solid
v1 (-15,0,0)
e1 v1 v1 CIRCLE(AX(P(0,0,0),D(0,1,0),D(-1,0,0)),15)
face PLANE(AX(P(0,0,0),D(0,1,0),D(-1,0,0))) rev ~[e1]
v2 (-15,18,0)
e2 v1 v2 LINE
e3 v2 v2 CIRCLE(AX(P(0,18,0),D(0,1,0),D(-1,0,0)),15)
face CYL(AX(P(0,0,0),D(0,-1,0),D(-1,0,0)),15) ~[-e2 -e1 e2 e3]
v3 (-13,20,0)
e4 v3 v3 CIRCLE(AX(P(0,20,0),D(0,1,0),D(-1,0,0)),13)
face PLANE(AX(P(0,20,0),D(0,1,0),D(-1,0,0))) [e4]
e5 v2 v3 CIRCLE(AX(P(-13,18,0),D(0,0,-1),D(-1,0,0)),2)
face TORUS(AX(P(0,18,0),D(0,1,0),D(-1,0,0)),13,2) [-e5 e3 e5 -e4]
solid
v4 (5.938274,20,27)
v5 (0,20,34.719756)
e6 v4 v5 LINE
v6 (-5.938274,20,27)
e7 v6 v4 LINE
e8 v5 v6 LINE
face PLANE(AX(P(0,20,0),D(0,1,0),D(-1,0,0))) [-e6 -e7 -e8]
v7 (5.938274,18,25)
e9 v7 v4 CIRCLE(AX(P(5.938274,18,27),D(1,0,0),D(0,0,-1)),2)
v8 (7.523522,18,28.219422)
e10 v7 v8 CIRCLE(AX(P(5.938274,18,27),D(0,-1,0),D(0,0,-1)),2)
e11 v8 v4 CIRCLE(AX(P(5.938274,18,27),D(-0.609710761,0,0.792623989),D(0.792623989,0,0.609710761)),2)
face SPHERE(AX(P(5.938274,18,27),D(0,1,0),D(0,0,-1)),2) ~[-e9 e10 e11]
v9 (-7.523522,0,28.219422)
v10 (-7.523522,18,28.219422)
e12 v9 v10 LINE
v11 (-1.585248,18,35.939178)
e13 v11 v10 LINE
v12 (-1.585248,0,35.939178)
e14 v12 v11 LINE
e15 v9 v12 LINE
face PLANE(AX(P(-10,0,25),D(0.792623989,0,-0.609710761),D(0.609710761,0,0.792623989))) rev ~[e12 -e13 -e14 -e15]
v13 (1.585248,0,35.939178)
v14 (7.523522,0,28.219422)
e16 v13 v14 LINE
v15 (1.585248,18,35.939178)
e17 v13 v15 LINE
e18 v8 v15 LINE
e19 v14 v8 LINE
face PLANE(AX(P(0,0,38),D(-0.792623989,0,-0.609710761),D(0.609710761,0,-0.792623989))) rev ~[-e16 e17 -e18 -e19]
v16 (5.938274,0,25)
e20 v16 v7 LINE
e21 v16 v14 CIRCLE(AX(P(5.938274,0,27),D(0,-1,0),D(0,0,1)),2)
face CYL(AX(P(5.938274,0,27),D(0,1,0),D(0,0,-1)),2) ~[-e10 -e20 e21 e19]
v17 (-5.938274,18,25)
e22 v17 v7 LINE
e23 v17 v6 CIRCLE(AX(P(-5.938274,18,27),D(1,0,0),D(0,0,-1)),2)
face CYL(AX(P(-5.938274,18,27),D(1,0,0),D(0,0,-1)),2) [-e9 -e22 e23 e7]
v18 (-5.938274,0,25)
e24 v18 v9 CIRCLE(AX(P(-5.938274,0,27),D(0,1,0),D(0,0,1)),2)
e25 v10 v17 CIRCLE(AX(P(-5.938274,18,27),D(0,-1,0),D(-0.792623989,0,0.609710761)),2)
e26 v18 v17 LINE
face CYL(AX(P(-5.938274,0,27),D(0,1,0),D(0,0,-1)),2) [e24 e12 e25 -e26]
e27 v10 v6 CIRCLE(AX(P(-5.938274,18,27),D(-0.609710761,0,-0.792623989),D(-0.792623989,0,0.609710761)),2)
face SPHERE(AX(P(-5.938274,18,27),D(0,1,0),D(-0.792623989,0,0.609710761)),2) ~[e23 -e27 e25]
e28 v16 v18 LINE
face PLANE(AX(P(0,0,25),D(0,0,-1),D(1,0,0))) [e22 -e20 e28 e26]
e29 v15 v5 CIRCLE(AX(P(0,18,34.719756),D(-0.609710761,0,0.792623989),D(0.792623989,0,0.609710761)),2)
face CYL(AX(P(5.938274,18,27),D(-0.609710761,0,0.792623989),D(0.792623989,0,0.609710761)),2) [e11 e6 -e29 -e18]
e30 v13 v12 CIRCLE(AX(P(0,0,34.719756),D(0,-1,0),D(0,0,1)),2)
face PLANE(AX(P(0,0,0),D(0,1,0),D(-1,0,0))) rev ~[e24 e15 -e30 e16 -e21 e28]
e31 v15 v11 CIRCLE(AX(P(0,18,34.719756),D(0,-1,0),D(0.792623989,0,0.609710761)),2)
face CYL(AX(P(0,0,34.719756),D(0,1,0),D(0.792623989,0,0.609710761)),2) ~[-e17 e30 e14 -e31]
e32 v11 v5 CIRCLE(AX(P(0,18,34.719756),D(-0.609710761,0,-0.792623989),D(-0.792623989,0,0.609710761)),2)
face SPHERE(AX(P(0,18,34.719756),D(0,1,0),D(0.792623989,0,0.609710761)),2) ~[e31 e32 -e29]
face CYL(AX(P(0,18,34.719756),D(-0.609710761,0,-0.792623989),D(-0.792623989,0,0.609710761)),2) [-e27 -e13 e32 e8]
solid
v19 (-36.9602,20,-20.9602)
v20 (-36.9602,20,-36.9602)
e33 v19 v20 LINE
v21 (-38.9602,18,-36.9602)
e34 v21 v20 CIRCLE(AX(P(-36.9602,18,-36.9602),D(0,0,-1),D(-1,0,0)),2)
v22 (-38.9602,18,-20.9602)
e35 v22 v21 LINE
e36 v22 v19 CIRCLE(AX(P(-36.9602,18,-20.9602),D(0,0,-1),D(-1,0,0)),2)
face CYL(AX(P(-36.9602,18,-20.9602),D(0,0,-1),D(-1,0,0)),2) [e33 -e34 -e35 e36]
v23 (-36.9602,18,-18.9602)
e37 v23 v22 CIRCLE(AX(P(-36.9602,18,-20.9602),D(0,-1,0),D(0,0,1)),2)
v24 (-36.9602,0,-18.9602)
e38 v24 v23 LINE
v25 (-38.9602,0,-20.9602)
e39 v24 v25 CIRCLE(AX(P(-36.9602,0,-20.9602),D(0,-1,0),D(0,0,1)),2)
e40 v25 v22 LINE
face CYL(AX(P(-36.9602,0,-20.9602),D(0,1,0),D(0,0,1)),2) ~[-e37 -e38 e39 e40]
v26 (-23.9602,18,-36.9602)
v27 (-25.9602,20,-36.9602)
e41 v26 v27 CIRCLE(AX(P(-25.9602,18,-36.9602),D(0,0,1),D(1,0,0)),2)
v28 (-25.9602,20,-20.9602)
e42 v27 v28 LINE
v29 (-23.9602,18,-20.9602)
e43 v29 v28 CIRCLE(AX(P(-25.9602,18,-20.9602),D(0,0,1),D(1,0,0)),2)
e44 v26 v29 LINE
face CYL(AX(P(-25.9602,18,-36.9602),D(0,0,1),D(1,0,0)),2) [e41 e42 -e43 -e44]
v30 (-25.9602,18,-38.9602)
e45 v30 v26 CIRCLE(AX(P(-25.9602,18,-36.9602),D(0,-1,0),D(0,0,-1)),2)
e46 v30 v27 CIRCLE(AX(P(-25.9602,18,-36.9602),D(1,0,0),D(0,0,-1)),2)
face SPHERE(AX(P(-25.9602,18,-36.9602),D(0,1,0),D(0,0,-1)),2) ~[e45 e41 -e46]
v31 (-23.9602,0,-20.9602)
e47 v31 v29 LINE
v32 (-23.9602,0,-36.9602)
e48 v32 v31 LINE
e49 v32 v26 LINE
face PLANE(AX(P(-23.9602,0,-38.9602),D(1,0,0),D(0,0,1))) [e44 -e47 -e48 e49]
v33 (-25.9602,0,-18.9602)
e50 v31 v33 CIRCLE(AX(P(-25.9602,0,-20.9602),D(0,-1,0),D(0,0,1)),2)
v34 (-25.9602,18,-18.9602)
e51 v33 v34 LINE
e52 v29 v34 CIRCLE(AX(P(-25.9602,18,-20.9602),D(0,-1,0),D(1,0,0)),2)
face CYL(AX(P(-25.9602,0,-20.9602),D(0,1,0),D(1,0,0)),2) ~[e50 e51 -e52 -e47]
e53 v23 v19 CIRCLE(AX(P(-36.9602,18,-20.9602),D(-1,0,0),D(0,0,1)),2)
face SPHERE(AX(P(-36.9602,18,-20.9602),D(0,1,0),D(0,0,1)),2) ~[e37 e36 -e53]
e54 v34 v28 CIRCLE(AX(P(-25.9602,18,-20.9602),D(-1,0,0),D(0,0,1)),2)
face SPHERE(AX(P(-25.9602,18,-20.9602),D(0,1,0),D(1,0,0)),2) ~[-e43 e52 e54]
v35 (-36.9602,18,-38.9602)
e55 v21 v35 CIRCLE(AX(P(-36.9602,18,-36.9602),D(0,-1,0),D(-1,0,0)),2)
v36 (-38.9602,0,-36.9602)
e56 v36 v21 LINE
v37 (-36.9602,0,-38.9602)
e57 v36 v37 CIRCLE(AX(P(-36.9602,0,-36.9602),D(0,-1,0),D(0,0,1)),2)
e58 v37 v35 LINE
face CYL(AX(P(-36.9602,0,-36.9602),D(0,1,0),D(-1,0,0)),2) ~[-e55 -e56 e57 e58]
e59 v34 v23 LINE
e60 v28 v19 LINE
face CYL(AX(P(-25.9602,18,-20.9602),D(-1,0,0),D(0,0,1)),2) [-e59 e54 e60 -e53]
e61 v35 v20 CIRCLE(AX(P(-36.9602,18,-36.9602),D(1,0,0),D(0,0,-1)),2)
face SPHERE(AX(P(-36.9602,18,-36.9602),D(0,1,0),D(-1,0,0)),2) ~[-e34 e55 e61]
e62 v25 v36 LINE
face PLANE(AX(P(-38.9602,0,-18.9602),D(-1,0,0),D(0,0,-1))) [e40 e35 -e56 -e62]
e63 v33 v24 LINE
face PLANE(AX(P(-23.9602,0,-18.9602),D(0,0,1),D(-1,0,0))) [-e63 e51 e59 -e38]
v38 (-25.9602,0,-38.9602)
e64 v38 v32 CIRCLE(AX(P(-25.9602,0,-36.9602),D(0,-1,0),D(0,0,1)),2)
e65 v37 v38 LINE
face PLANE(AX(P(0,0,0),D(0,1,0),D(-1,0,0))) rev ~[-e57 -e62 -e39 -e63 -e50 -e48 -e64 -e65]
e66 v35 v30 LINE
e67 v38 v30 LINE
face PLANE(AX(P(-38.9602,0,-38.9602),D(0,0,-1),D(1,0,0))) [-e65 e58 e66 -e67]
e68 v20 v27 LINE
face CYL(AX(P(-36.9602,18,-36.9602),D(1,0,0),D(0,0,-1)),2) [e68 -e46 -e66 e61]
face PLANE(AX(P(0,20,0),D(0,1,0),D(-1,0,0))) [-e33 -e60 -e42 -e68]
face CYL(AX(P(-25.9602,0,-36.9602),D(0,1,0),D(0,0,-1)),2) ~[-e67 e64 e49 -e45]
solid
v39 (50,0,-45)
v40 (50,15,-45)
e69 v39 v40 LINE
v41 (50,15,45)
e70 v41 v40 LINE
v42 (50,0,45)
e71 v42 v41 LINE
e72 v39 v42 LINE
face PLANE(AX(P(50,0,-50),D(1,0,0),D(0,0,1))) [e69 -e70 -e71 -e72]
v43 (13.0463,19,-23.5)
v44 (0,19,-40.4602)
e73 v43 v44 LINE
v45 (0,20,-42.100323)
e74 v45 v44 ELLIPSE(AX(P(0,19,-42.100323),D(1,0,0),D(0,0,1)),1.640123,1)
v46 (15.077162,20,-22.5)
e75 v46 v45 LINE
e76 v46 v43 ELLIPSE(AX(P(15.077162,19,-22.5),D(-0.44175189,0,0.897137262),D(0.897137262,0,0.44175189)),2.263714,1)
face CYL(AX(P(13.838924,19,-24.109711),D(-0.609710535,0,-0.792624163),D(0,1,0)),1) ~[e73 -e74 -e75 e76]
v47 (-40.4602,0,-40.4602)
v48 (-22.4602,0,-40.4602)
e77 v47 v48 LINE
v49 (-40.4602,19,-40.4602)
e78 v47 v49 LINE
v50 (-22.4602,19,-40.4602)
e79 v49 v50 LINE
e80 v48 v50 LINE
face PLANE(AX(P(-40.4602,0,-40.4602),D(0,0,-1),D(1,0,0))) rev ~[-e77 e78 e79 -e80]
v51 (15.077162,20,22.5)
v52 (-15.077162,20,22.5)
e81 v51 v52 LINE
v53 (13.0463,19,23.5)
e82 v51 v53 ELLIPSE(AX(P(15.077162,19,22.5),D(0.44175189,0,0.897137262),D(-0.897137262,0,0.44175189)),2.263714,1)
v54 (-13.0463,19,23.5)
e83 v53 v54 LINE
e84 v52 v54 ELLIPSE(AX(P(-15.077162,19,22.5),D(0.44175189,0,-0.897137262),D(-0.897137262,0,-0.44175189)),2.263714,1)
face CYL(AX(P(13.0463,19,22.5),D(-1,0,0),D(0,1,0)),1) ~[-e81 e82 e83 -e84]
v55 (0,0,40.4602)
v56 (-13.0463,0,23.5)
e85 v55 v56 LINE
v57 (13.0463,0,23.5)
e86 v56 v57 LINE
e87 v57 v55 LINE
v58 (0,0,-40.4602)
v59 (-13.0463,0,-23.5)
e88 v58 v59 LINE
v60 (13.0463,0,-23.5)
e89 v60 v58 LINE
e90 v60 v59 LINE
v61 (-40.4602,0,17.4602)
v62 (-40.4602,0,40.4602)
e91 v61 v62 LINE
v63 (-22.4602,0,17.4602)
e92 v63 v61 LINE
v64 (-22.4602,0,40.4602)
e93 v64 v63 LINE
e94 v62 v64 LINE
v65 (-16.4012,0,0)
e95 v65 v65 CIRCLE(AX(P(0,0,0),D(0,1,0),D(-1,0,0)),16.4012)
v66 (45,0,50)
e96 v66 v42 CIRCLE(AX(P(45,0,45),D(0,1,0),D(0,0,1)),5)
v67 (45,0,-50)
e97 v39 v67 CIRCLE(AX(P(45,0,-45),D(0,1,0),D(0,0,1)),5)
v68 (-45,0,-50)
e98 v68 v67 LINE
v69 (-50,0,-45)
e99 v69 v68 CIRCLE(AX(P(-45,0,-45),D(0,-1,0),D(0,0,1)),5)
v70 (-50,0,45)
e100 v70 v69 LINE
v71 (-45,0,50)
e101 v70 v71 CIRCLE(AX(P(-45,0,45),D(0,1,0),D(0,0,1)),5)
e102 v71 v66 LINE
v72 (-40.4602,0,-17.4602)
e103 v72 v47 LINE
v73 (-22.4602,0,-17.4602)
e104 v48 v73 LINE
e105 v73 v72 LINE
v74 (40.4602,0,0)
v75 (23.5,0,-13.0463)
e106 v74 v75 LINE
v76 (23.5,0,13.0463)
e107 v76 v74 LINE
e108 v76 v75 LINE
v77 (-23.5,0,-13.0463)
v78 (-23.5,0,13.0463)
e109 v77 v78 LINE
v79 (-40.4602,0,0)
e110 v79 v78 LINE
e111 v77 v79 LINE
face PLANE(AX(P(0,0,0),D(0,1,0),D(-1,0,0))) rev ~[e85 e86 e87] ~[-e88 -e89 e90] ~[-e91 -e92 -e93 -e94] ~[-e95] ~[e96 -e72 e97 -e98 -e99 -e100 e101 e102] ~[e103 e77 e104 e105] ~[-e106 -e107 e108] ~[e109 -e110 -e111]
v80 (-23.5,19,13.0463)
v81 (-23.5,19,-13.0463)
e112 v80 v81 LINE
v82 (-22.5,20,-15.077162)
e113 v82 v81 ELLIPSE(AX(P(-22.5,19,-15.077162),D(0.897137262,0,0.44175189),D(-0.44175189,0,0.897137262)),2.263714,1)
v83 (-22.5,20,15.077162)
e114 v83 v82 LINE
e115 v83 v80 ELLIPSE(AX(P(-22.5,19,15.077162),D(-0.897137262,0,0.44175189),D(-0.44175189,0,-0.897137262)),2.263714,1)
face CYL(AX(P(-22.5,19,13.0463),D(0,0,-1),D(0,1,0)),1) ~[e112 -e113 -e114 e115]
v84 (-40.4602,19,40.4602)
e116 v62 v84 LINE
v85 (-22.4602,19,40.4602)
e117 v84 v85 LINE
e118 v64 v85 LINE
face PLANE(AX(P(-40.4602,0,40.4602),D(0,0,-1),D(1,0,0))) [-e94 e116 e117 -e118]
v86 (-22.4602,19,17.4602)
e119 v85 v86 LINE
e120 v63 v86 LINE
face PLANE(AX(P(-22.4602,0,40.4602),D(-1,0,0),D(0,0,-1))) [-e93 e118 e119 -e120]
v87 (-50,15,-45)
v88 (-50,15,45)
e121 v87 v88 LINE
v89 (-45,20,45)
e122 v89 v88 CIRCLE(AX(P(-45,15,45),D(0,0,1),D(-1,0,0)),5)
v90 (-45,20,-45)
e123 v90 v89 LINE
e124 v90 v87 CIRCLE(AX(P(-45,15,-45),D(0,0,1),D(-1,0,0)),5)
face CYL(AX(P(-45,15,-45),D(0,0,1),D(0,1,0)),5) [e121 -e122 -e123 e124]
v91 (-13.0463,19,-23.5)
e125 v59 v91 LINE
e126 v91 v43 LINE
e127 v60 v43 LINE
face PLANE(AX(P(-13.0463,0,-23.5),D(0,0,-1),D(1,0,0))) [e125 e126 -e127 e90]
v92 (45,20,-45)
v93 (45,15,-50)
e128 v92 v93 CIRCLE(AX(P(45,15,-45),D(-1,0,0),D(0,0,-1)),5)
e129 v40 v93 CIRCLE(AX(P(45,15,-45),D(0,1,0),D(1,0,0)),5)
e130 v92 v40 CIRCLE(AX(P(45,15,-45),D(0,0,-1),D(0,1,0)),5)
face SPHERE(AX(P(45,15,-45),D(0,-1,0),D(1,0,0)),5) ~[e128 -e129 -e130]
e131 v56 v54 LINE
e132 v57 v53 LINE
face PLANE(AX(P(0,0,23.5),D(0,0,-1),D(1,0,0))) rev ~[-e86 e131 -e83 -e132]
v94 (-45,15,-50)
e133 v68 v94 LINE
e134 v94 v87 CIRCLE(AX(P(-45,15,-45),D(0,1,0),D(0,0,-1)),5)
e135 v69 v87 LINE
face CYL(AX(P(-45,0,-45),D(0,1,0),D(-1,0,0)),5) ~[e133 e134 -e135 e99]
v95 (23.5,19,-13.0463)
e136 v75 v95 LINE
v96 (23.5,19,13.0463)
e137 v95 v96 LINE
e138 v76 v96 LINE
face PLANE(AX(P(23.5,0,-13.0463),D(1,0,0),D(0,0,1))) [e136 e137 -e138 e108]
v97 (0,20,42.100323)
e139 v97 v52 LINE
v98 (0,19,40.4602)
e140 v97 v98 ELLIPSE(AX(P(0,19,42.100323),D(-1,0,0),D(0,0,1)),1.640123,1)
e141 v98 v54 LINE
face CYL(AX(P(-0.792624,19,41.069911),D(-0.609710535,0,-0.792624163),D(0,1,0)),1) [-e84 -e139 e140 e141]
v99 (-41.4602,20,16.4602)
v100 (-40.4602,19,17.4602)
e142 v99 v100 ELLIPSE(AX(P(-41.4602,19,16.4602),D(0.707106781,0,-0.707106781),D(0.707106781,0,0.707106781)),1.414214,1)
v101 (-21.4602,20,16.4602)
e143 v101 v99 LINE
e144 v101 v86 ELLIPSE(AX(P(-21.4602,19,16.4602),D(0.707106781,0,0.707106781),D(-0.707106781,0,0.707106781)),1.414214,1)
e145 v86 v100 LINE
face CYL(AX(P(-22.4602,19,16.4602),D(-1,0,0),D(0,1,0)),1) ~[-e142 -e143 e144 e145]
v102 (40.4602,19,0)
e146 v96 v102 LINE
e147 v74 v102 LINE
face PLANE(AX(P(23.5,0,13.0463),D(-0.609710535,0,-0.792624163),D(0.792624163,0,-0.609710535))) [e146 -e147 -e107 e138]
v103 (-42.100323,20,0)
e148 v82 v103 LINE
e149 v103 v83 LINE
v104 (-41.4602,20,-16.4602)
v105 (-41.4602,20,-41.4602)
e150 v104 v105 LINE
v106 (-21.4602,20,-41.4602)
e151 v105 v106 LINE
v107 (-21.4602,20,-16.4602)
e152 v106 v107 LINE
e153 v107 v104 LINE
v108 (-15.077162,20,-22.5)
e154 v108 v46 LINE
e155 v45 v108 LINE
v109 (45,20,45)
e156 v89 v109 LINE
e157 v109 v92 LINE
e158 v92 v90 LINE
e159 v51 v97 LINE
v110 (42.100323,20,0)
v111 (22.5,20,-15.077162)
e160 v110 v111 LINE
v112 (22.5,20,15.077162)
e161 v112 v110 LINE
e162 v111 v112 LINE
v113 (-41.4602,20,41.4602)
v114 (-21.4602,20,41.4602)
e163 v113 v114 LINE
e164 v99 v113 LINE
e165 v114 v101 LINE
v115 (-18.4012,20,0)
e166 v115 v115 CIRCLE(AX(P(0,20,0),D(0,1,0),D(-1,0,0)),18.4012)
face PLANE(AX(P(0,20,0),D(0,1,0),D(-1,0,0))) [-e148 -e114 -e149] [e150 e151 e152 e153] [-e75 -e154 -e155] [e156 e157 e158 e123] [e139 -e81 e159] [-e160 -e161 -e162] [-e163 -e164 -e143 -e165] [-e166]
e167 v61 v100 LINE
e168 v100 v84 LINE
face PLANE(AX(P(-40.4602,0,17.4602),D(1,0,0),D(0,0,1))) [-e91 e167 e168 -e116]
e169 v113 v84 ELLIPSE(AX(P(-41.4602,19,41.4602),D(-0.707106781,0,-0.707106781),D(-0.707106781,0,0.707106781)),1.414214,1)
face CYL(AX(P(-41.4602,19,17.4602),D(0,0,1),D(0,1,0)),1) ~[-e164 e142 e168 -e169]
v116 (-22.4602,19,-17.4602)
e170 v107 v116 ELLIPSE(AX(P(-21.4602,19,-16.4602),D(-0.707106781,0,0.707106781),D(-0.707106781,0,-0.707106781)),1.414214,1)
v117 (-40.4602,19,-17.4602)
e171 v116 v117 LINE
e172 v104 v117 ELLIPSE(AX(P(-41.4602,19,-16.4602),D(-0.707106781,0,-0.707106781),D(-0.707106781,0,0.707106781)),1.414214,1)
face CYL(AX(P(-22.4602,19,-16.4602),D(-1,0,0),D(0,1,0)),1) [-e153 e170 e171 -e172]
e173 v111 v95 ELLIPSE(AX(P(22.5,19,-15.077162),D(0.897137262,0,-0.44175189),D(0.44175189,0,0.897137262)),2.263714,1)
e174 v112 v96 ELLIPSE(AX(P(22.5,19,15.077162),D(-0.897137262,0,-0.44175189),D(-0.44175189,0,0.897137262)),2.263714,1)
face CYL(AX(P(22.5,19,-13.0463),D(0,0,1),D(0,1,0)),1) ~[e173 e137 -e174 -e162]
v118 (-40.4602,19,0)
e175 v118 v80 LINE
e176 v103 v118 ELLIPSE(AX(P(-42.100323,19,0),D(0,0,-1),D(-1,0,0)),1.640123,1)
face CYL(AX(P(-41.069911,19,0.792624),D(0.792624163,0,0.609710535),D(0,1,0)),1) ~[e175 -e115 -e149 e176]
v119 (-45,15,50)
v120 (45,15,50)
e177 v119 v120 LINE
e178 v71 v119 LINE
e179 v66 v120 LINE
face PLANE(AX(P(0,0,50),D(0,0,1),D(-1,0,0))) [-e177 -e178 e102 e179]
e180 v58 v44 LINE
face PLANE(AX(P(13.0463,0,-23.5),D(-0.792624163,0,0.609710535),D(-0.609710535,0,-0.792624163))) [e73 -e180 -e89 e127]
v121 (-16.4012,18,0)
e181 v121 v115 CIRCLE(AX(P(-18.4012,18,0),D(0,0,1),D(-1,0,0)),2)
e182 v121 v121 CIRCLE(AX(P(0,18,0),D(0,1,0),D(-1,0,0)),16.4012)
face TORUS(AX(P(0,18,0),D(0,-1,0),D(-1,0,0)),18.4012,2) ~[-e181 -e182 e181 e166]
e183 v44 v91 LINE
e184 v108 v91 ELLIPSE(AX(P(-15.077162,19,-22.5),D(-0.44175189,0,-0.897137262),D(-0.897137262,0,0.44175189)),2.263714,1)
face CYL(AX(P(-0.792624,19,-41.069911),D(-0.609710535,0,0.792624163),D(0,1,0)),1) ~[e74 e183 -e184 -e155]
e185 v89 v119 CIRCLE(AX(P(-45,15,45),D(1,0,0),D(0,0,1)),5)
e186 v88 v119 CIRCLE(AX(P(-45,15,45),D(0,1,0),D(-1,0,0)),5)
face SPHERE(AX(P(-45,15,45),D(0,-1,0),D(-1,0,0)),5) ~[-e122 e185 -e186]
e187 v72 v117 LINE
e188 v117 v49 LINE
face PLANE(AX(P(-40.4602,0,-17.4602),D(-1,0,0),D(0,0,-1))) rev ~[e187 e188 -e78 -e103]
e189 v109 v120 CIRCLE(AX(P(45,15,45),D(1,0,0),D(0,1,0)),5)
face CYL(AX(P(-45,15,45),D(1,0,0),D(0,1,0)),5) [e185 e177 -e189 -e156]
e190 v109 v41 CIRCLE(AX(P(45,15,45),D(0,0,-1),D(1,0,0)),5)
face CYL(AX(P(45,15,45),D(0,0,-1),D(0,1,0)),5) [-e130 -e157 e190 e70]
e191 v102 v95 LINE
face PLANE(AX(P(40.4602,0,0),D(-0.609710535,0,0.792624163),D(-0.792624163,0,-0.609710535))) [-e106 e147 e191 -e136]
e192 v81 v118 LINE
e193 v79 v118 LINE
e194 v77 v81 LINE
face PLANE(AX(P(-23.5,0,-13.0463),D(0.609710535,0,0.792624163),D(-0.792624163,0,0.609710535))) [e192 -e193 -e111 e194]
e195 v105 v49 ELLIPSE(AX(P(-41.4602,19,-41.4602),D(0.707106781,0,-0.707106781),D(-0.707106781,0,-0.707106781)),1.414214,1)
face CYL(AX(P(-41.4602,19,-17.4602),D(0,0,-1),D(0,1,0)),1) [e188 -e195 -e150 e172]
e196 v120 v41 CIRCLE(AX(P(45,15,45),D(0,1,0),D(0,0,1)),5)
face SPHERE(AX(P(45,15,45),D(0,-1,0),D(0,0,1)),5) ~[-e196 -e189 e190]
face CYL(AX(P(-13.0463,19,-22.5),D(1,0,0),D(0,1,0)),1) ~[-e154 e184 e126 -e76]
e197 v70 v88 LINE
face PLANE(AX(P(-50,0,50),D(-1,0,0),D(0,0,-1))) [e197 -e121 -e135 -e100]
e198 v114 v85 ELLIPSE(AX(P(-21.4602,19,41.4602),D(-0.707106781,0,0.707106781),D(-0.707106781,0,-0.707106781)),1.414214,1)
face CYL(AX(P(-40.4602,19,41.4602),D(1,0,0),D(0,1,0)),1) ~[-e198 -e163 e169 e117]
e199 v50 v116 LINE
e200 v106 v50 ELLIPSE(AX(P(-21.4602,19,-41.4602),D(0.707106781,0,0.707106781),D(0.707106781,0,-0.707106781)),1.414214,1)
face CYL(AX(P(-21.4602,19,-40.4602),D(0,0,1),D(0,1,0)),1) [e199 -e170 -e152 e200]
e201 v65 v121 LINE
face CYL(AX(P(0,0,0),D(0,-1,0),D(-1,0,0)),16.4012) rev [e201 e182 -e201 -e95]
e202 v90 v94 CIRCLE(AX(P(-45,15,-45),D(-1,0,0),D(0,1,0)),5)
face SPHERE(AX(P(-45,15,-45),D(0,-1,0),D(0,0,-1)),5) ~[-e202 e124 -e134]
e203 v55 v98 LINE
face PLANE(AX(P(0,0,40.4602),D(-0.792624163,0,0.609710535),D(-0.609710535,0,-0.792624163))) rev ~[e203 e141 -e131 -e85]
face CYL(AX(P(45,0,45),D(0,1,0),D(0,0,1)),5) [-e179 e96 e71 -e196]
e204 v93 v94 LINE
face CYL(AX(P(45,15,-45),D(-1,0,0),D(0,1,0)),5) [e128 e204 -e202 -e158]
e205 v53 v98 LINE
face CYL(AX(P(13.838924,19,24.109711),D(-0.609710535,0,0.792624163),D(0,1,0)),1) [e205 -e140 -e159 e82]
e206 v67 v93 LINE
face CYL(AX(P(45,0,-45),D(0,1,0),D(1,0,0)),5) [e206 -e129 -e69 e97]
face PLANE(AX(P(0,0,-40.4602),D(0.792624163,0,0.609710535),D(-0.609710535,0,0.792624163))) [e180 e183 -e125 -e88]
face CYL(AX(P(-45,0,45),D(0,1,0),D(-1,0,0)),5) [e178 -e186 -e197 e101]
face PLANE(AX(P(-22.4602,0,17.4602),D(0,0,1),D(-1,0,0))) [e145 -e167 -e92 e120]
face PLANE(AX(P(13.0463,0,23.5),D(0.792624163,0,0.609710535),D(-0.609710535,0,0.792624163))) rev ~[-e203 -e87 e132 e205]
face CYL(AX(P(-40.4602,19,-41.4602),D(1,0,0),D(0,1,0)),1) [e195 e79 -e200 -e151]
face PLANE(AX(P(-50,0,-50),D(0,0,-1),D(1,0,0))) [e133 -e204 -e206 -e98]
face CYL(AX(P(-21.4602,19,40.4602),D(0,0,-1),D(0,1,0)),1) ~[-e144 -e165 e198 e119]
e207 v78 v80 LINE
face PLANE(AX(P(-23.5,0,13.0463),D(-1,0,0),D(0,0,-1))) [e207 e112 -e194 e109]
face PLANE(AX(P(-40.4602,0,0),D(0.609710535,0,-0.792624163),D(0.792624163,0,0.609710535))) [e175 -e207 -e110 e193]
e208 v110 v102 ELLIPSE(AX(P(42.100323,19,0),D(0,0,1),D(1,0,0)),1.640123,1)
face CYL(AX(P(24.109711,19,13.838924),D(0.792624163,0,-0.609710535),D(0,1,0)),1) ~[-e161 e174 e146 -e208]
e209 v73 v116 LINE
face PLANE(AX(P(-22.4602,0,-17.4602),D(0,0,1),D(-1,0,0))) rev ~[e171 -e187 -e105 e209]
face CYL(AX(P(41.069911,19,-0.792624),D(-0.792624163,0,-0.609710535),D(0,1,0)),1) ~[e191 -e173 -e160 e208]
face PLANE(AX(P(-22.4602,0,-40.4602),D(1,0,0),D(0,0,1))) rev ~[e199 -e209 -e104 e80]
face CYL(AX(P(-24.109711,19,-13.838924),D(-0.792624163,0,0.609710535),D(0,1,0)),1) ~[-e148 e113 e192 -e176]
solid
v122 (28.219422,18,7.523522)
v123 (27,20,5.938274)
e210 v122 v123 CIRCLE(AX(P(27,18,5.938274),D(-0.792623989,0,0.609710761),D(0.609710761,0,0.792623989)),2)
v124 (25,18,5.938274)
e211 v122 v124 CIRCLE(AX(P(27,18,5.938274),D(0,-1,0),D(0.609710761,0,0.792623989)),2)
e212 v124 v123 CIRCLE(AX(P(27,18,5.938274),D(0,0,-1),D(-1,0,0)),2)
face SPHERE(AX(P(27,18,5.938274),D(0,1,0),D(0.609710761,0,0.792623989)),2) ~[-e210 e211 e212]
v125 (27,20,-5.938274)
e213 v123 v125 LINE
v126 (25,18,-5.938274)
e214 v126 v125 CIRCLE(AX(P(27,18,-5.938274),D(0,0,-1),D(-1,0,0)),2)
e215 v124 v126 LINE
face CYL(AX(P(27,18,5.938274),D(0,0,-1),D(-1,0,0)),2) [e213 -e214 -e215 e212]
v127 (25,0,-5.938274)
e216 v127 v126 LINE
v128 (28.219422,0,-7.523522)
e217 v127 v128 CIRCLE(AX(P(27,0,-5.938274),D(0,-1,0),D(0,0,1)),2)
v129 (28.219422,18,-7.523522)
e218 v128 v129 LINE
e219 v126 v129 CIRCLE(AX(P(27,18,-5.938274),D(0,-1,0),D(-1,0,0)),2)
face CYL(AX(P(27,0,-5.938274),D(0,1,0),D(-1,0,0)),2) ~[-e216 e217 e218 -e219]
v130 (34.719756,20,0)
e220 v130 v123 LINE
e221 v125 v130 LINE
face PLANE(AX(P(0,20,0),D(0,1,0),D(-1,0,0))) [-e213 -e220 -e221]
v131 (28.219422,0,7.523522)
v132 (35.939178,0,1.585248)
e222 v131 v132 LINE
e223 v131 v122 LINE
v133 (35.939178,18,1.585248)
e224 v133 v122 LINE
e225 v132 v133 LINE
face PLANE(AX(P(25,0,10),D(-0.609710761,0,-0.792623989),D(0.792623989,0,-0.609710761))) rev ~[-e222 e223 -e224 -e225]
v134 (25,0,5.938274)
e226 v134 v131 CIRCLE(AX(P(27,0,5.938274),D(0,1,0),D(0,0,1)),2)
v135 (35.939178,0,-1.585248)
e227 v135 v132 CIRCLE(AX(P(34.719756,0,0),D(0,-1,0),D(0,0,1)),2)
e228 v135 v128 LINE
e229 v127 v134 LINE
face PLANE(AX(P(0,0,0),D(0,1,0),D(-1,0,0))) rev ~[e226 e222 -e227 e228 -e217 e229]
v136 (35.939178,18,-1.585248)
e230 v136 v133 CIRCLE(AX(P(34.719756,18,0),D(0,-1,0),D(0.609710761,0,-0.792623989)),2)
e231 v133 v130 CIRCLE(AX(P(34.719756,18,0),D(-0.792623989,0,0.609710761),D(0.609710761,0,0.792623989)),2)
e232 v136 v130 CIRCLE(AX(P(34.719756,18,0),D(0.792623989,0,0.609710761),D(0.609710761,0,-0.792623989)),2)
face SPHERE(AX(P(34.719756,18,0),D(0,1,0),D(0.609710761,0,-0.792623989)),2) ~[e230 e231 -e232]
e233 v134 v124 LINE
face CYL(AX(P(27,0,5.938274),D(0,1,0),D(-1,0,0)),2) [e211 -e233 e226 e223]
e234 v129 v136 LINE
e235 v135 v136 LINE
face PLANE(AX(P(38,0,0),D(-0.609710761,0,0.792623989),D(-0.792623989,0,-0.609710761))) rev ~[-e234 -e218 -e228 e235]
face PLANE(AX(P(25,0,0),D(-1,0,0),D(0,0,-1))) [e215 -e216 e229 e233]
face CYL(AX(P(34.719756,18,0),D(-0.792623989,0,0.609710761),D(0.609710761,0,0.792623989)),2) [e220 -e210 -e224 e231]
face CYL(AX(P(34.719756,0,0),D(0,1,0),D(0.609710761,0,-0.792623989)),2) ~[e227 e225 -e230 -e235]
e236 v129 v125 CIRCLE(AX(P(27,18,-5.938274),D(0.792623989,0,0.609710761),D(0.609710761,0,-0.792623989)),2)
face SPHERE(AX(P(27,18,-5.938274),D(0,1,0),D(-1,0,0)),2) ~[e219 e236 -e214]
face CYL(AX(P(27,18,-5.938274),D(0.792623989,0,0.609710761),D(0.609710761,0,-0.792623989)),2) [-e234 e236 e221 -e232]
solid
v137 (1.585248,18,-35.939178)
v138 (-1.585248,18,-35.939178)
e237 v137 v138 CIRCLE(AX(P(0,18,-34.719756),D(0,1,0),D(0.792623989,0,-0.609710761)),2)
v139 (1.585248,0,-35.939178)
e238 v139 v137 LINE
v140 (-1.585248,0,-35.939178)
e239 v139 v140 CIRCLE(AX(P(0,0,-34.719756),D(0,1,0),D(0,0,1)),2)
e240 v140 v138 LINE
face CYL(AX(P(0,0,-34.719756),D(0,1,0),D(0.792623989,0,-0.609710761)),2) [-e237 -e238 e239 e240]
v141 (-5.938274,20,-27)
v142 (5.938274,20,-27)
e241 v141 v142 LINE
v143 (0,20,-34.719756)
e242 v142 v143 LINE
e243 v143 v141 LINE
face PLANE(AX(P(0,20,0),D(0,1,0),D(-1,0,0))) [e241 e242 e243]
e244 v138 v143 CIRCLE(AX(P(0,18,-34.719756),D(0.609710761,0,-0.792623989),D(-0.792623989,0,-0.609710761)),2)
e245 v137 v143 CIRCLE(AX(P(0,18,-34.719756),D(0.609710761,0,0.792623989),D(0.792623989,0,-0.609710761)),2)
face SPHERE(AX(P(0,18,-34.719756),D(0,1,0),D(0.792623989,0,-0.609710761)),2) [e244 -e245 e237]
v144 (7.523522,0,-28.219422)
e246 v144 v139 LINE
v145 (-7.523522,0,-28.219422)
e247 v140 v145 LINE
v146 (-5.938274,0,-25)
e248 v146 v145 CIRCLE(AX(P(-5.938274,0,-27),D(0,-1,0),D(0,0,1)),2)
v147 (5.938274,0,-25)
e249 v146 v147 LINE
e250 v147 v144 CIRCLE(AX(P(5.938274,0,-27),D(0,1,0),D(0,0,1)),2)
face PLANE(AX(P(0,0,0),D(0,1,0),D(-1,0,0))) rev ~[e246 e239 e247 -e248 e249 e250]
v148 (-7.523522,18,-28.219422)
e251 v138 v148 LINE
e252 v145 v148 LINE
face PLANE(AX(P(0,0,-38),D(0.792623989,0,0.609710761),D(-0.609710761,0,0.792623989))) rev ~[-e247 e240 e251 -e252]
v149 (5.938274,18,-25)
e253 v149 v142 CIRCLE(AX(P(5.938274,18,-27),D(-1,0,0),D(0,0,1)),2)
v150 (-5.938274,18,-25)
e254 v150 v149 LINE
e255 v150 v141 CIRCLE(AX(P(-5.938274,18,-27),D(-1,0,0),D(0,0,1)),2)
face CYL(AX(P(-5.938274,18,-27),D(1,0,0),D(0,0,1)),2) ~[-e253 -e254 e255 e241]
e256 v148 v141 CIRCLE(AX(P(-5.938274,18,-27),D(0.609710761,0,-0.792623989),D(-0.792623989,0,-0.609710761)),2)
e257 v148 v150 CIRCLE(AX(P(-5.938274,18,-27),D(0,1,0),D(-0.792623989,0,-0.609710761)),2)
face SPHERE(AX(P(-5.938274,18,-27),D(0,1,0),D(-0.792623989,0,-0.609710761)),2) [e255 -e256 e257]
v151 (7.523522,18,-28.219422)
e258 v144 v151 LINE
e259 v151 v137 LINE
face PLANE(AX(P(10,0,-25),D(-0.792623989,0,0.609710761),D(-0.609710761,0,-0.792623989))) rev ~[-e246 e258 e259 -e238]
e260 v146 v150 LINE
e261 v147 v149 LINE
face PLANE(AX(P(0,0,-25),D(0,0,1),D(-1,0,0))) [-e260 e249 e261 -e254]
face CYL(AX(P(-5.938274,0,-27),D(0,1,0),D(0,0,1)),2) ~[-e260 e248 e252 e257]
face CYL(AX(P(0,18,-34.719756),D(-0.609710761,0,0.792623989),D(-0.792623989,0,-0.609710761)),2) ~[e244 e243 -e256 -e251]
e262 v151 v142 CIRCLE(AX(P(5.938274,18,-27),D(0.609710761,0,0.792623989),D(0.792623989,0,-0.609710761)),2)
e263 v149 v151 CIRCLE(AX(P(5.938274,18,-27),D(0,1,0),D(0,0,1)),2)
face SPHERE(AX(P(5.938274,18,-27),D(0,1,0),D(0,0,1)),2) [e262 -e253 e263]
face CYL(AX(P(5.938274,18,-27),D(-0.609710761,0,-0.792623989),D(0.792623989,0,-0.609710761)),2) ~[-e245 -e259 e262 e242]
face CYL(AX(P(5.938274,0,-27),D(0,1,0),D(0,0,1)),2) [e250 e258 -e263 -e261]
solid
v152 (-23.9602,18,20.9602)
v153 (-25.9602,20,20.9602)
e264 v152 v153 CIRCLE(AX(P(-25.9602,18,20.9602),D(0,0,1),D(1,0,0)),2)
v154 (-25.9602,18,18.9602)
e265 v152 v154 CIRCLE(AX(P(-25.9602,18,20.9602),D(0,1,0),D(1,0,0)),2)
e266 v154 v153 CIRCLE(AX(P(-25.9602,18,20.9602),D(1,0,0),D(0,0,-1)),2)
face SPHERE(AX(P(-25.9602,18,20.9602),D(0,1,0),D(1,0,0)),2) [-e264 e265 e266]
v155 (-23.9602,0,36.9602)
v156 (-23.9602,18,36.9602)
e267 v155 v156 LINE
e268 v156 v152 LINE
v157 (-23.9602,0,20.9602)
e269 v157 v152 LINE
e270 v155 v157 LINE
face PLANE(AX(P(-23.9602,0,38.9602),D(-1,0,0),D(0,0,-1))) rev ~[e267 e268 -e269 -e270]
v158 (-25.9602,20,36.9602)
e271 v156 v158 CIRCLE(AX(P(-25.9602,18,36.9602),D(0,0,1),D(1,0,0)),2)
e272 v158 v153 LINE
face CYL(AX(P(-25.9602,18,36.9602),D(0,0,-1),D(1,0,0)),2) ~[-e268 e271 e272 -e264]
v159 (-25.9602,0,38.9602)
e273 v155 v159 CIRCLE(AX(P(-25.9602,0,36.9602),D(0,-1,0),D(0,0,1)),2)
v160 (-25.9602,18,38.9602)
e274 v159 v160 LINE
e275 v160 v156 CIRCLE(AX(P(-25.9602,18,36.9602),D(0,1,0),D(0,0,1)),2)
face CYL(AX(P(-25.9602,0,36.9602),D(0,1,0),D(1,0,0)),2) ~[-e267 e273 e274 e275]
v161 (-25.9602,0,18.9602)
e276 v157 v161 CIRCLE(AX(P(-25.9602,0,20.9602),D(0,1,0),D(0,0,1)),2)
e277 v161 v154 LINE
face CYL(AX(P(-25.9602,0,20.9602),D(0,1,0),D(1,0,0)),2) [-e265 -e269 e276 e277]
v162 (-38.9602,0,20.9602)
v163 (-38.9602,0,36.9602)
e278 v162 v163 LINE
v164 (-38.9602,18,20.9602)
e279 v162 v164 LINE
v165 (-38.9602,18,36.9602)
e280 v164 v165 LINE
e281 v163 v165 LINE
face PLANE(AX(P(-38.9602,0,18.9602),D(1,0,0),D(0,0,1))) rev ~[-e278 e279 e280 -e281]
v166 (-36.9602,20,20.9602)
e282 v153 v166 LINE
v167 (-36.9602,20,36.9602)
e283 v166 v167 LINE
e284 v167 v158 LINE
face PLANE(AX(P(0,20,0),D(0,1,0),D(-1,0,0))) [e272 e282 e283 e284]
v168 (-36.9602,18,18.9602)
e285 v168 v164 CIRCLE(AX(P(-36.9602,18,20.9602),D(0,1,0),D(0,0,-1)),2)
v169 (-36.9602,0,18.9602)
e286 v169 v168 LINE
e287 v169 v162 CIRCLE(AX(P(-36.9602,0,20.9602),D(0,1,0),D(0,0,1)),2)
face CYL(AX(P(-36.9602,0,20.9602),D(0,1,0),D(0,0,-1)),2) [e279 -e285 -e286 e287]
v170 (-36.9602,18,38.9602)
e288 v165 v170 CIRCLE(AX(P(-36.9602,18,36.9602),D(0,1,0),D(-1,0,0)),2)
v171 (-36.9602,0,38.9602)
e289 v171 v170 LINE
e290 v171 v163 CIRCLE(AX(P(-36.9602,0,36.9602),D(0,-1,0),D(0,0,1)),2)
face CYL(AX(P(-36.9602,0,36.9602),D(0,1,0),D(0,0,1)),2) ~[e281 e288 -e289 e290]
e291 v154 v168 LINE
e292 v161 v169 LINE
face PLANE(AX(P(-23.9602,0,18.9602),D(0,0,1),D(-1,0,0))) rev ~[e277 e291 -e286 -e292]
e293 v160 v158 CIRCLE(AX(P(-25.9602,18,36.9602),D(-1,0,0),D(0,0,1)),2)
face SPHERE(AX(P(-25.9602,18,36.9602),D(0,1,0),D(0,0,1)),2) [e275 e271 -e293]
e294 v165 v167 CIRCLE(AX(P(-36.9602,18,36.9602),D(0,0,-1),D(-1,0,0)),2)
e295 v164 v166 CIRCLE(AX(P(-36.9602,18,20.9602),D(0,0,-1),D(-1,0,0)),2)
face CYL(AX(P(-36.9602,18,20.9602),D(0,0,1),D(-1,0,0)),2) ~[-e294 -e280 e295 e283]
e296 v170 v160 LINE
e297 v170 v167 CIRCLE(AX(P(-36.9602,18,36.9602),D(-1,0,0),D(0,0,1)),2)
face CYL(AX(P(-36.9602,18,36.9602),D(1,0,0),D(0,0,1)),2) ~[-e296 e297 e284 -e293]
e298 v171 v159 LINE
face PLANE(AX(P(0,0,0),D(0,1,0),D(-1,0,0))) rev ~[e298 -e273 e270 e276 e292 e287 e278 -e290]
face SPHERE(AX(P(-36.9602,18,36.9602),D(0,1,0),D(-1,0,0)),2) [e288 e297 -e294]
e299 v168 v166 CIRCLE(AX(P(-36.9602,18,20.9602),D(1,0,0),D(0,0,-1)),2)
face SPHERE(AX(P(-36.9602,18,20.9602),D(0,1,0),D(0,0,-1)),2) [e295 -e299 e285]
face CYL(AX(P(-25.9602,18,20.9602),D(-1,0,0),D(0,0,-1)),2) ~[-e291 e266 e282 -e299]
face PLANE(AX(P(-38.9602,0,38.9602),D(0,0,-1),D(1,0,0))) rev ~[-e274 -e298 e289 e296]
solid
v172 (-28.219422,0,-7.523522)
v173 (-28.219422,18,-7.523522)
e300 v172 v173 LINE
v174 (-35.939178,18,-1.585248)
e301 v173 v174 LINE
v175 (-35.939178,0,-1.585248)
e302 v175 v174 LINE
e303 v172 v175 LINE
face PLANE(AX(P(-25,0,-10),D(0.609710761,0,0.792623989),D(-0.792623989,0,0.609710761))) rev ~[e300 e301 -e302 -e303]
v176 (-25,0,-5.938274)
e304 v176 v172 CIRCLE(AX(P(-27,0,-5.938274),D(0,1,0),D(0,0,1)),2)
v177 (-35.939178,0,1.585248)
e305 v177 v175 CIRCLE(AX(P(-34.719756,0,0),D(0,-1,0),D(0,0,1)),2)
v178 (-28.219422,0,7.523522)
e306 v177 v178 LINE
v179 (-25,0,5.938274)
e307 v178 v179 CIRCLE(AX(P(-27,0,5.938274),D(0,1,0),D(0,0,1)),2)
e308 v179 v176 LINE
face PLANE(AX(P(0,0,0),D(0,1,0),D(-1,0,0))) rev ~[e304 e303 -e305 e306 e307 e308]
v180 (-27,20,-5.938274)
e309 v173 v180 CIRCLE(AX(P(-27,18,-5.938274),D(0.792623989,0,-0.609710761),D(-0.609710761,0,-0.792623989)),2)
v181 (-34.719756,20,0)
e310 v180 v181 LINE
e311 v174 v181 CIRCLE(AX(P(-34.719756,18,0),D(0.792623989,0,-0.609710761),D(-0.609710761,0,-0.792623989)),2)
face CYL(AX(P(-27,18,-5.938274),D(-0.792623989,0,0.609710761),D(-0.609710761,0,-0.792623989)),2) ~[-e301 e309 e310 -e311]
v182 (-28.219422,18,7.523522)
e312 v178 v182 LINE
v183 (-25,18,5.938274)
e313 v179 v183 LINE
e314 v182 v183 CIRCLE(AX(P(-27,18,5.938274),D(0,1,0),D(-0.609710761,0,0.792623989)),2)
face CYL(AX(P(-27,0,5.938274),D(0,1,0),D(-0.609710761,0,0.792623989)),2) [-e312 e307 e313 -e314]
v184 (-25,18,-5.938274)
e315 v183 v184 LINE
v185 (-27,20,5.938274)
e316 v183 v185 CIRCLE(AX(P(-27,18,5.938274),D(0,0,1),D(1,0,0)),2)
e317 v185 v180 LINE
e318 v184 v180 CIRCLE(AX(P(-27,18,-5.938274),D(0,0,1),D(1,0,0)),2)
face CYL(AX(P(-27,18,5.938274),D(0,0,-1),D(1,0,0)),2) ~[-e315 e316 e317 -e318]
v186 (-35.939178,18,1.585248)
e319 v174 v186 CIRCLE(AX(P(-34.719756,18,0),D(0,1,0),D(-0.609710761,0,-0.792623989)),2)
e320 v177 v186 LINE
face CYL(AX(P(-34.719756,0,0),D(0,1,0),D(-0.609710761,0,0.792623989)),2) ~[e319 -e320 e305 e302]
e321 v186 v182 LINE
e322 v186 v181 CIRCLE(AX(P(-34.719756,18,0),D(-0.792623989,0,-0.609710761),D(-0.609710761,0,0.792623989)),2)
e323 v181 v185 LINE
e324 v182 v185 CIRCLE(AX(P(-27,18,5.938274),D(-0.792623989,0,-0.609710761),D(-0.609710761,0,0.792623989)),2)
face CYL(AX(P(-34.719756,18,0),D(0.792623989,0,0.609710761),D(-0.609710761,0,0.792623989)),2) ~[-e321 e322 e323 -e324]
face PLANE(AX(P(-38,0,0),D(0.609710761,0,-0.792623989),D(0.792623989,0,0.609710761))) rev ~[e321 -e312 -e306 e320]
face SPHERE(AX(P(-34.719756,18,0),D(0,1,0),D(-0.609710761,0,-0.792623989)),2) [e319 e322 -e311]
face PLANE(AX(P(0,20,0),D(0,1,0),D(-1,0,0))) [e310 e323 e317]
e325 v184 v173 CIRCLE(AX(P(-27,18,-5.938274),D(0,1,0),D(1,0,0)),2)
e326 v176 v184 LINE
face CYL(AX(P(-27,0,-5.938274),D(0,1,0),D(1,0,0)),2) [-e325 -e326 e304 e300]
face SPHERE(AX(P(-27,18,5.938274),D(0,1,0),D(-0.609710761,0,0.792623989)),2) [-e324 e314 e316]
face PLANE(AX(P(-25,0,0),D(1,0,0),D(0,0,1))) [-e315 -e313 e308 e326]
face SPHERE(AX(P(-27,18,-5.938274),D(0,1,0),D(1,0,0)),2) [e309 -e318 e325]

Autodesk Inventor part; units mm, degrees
ref_plane "YZ Plane" through (0, 0, 0) normal (1, 0, 0) x (0, 1, 0)
ref_plane "XZ Plane" through (0, 0, 0) normal (0, 1, 0) x (-1, 0, 0)
ref_plane "XY Plane" through (0, 0, 0) normal (0, 0, 1) x (1, 0, 0)
sketch "Sketch1" plane through (0, 0, 0) normal (0, 1, 0) x (-1, 0, 0)
  circle A0 centre (0, 0) radius 15
  line L0 (0, -25) -> (10, -25)
  line L1 (0, -25) -> (-10, -25)
  line L2 (-10, -25) -> (0, -38)
  line L3 (0, -38) -> (10, -25)
  line L4 (25, 0) -> (25, 10)
  line L5 (25, 0) -> (25, -10)
  line L6 (25, -10) -> (38, 0)
  line L7 (38, 0) -> (25, 10)
  line L8 (0, 25) -> (-10, 25)
  line L9 (0, 25) -> (10, 25)
  line L10 (10, 25) -> (0, 38)
  line L11 (0, 38) -> (-10, 25)
  line L12 (-25, 0) -> (-25, -10)
  line L13 (-25, 0) -> (-25, 10)
  line L14 (-25, 10) -> (-38, 0)
  line L15 (-38, 0) -> (-25, -10)
  line L16 (38.9602, 38.9602) -> (23.9602, 38.9602)
  line L17 (23.9602, 38.9602) -> (23.9602, 18.9602)
  line L18 (23.9602, 18.9602) -> (38.9602, 18.9602)
  line L19 (38.9602, 18.9602) -> (38.9602, 38.9602)
  line L20 (38.9602, -38.9602) -> (23.9602, -38.9602)
  line L21 (23.9602, -38.9602) -> (23.9602, -18.9602)
  line L22 (23.9602, -18.9602) -> (38.9602, -18.9602)
  line L23 (38.9602, -18.9602) -> (38.9602, -38.9602)
  line L24 (40.4602, -40.4602) -> (22.4602, -40.4602)
  line L25 (22.4602, -40.4602) -> (22.4602, -17.4602)
  line L26 (22.4602, -17.4602) -> (40.4602, -17.4602)
  line L27 (40.4602, -17.4602) -> (40.4602, -40.4602)
  line L28 (40.4602, 40.4602) -> (22.4602, 40.4602)
  line L29 (22.4602, 40.4602) -> (22.4602, 17.4602)
  line L30 (22.4602, 17.4602) -> (40.4602, 17.4602)
  line L31 (40.4602, 17.4602) -> (40.4602, 40.4602)
  line L32 (0, 40.4602) -> (13.0463, 23.5)
  line L33 (13.0463, 23.5) -> (0, 23.5)
  line L34 (0, 23.5) -> (-13.0463, 23.5)
  line L35 (-13.0463, 23.5) -> (0, 40.4602)
  line L36 (13.0463, -23.5) -> (0, -23.5)
  line L37 (0, -23.5) -> (-13.0463, -23.5)
  line L38 (-13.0463, -23.5) -> (0, -40.4602)
  line L39 (0, -40.4602) -> (13.0463, -23.5)
  line L40 (23.5, 13.0463) -> (23.5, 0)
  line L41 (23.5, 0) -> (23.5, -13.0463)
  line L42 (23.5, -13.0463) -> (40.4602, 0)
  line L43 (40.4602, 0) -> (23.5, 13.0463)
  line L44 (-23.5, -13.0463) -> (-23.5, 0)
  line L45 (-23.5, 0) -> (-23.5, 13.0463)
  line L46 (-23.5, 13.0463) -> (-40.4602, 0)
  line L47 (-40.4602, 0) -> (-23.5, -13.0463)
  circle A1 centre (0, 0) radius 16.4012
  line L48 (0, 50) -> (50, 50)
  line L49 (50, 50) -> (50, -50)
  line L50 (50, -50) -> (-50, -50)
  line L51 (-50, -50) -> (-50, 50)
  line L52 (-50, 50) -> (0, 50)
  dimension "d1" = 10
  dimension "d2" = 10
  dimension "d5" = 360
  dimension "d7" = 15
  dimension "d8" = 20
  dimension "d9" = 15
  dimension "d10" = 20
  dimension "d11" = 1.5
  dimension "d12" = 1.5
  dimension "d13" = 1.5
  dimension "d14" = 1.5
  dimension "d15" = 1.5
  dimension "d16" = 1.5
  dimension "d17" = 1.4012
  dimension "d18" = 50
  dimension "d19" = 100
  dimension "d20" = 100
  dimension "d21" = 100
extrude "Extrusion1" add sketch "Sketch1" along normal blind 20
fillet "Fillet1" radius 2 1 edges at (-23.9602, 10, 38.9602)
fillet "Fillet2" radius 2 1 edges at (-38.9602, 10, 38.9602)
fillet "Fillet3" radius 2 1 edges at (-23.9602, 10, 18.9602)
fillet "Fillet4" radius 2 1 edges at (-38.9602, 10, 18.9602)
fillet "Fillet5" radius 2 1 edges at (-38, 10, 0)
fillet "Fillet6" radius 2 1 edges at (-25, 10, 10)
fillet "Fillet7" radius 2 1 edges at (-25, 10, -10)
fillet "Fillet8" radius 2 1 edges at (-38.9602, 10, -18.9602)
fillet "Fillet9" radius 2 1 edges at (-38.9602, 10, -38.9602)
fillet "Fillet10" radius 2 1 edges at (-23.9602, 10, -38.9602)
fillet "Fillet11" radius 2 1 edges at (-23.9602, 10, -18.9602)
fillet "Fillet12" radius 2 1 edges at (-10, 10, -25)
fillet "Fillet13" radius 2 1 edges at (10, 10, -25)
fillet "Fillet14" radius 2 1 edges at (0, 10, -38)
fillet "Fillet15" radius 2 1 edges at (25, 10, 10)
fillet "Fillet16" radius 2 1 edges at (25, 10, -10)
fillet "Fillet17" radius 2 1 edges at (38, 10, 0)
fillet "Fillet18" radius 2 1 edges at (-10, 10, 25)
fillet "Fillet19" radius 2 1 edges at (10, 10, 25)
fillet "Fillet20" radius 2 1 edges at (0, 10, 38)
fillet "Fillet21" radius 2 1 edges at (15, 20, 0)
fillet "Fillet22" radius 2 8 edges at (-38.9602, 20, 28.9602) (-38.3744, 20, 38.3744) (-31.4602, 20, 38.9602) (-24.546, 20, 38.3744) (-23.9602, 20, 28.9602) (-24.546, 20, 19.546) (-31.4602, 20, 18.9602) (-38.3744, 20, 19.546)
fillet "Fillet23" radius 2 6 edges at (-26.1165, 20, 7.7325) (-32.0793, 20, 4.5544) (-36.7198, 20, 0) (-32.0793, 20, -4.5544) (-26.1165, 20, -7.7325) (-25, 20, 0)
fillet "Fillet24" radius 2 8 edges at (-31.4602, 20, -18.9602) (-24.546, 20, -19.546) (-23.9602, 20, -28.9602) (-24.546, 20, -38.3744) (-31.4602, 20, -38.9602) (-38.3744, 20, -38.3744) (-38.9602, 20, -28.9602) (-38.3744, 20, -19.546)
fillet "Fillet25" radius 2 6 edges at (-4.5544, 20, -32.0793) (-7.7325, 20, -26.1165) (0, 20, -25) (7.7325, 20, -26.1165) (4.5544, 20, -32.0793) (0, 20, -36.7198)
fillet "Fillet26" radius 2 6 edges at (0, 20, 25) (-7.7325, 20, 26.1165) (-4.5544, 20, 32.0793) (0, 20, 36.7198) (4.5544, 20, 32.0793) (7.7325, 20, 26.1165)
fillet "Fillet27" radius 2 6 edges at (25, 20, 0) (26.1165, 20, 7.7325) (32.0793, 20, 4.5544) (36.7198, 20, 0) (32.0793, 20, -4.5544) (26.1165, 20, -7.7325)
fillet "Fillet28" radius 2 1 edges at (16.4012, 20, 0)
fillet "Fillet29" radius 1 4 edges at (-40.4602, 20, 28.9602) (-31.4602, 20, 17.4602) (-22.4602, 20, 28.9602) (-31.4602, 20, 40.4602)
fillet "Fillet30" radius 1 3 edges at (-31.9801, 20, -6.5231) (-23.5, 20, 0) (-31.9801, 20, 6.5231)
fillet "Fillet31" radius 1 4 edges at (-31.4602, 20, -17.4602) (-40.4602, 20, -28.9602) (-31.4602, 20, -40.4602) (-22.4602, 20, -28.9602)
fillet "Fillet32" radius 1 3 edges at (-6.5231, 20, -31.9801) (0, 20, -23.5) (6.5231, 20, -31.9801)
fillet "Fillet33" radius 1 3 edges at (0, 20, 23.5) (6.5231, 20, 31.9801) (-6.5231, 20, 31.9801)
fillet "Fillet34" radius 1 3 edges at (23.5, 20, 0) (31.9801, 20, 6.5231) (31.9801, 20, -6.5231)
fillet "Fillet35" radius 5 3 edges at (-50, 10, 50) (50, 10, -50) (50, 10, 50)
fillet "Fillet36" radius 5 1 edges at (-50, 10, -50)
fillet "Fillet37" radius 5 8 edges at (-48.5355, 20, 48.5355) (0, 20, 50) (48.5355, 20, 48.5355) (50, 20, 0) (48.5355, 20, -48.5355) (0, 20, -50) (-48.5355, 20, -48.5355) (-50, 20, 0)
